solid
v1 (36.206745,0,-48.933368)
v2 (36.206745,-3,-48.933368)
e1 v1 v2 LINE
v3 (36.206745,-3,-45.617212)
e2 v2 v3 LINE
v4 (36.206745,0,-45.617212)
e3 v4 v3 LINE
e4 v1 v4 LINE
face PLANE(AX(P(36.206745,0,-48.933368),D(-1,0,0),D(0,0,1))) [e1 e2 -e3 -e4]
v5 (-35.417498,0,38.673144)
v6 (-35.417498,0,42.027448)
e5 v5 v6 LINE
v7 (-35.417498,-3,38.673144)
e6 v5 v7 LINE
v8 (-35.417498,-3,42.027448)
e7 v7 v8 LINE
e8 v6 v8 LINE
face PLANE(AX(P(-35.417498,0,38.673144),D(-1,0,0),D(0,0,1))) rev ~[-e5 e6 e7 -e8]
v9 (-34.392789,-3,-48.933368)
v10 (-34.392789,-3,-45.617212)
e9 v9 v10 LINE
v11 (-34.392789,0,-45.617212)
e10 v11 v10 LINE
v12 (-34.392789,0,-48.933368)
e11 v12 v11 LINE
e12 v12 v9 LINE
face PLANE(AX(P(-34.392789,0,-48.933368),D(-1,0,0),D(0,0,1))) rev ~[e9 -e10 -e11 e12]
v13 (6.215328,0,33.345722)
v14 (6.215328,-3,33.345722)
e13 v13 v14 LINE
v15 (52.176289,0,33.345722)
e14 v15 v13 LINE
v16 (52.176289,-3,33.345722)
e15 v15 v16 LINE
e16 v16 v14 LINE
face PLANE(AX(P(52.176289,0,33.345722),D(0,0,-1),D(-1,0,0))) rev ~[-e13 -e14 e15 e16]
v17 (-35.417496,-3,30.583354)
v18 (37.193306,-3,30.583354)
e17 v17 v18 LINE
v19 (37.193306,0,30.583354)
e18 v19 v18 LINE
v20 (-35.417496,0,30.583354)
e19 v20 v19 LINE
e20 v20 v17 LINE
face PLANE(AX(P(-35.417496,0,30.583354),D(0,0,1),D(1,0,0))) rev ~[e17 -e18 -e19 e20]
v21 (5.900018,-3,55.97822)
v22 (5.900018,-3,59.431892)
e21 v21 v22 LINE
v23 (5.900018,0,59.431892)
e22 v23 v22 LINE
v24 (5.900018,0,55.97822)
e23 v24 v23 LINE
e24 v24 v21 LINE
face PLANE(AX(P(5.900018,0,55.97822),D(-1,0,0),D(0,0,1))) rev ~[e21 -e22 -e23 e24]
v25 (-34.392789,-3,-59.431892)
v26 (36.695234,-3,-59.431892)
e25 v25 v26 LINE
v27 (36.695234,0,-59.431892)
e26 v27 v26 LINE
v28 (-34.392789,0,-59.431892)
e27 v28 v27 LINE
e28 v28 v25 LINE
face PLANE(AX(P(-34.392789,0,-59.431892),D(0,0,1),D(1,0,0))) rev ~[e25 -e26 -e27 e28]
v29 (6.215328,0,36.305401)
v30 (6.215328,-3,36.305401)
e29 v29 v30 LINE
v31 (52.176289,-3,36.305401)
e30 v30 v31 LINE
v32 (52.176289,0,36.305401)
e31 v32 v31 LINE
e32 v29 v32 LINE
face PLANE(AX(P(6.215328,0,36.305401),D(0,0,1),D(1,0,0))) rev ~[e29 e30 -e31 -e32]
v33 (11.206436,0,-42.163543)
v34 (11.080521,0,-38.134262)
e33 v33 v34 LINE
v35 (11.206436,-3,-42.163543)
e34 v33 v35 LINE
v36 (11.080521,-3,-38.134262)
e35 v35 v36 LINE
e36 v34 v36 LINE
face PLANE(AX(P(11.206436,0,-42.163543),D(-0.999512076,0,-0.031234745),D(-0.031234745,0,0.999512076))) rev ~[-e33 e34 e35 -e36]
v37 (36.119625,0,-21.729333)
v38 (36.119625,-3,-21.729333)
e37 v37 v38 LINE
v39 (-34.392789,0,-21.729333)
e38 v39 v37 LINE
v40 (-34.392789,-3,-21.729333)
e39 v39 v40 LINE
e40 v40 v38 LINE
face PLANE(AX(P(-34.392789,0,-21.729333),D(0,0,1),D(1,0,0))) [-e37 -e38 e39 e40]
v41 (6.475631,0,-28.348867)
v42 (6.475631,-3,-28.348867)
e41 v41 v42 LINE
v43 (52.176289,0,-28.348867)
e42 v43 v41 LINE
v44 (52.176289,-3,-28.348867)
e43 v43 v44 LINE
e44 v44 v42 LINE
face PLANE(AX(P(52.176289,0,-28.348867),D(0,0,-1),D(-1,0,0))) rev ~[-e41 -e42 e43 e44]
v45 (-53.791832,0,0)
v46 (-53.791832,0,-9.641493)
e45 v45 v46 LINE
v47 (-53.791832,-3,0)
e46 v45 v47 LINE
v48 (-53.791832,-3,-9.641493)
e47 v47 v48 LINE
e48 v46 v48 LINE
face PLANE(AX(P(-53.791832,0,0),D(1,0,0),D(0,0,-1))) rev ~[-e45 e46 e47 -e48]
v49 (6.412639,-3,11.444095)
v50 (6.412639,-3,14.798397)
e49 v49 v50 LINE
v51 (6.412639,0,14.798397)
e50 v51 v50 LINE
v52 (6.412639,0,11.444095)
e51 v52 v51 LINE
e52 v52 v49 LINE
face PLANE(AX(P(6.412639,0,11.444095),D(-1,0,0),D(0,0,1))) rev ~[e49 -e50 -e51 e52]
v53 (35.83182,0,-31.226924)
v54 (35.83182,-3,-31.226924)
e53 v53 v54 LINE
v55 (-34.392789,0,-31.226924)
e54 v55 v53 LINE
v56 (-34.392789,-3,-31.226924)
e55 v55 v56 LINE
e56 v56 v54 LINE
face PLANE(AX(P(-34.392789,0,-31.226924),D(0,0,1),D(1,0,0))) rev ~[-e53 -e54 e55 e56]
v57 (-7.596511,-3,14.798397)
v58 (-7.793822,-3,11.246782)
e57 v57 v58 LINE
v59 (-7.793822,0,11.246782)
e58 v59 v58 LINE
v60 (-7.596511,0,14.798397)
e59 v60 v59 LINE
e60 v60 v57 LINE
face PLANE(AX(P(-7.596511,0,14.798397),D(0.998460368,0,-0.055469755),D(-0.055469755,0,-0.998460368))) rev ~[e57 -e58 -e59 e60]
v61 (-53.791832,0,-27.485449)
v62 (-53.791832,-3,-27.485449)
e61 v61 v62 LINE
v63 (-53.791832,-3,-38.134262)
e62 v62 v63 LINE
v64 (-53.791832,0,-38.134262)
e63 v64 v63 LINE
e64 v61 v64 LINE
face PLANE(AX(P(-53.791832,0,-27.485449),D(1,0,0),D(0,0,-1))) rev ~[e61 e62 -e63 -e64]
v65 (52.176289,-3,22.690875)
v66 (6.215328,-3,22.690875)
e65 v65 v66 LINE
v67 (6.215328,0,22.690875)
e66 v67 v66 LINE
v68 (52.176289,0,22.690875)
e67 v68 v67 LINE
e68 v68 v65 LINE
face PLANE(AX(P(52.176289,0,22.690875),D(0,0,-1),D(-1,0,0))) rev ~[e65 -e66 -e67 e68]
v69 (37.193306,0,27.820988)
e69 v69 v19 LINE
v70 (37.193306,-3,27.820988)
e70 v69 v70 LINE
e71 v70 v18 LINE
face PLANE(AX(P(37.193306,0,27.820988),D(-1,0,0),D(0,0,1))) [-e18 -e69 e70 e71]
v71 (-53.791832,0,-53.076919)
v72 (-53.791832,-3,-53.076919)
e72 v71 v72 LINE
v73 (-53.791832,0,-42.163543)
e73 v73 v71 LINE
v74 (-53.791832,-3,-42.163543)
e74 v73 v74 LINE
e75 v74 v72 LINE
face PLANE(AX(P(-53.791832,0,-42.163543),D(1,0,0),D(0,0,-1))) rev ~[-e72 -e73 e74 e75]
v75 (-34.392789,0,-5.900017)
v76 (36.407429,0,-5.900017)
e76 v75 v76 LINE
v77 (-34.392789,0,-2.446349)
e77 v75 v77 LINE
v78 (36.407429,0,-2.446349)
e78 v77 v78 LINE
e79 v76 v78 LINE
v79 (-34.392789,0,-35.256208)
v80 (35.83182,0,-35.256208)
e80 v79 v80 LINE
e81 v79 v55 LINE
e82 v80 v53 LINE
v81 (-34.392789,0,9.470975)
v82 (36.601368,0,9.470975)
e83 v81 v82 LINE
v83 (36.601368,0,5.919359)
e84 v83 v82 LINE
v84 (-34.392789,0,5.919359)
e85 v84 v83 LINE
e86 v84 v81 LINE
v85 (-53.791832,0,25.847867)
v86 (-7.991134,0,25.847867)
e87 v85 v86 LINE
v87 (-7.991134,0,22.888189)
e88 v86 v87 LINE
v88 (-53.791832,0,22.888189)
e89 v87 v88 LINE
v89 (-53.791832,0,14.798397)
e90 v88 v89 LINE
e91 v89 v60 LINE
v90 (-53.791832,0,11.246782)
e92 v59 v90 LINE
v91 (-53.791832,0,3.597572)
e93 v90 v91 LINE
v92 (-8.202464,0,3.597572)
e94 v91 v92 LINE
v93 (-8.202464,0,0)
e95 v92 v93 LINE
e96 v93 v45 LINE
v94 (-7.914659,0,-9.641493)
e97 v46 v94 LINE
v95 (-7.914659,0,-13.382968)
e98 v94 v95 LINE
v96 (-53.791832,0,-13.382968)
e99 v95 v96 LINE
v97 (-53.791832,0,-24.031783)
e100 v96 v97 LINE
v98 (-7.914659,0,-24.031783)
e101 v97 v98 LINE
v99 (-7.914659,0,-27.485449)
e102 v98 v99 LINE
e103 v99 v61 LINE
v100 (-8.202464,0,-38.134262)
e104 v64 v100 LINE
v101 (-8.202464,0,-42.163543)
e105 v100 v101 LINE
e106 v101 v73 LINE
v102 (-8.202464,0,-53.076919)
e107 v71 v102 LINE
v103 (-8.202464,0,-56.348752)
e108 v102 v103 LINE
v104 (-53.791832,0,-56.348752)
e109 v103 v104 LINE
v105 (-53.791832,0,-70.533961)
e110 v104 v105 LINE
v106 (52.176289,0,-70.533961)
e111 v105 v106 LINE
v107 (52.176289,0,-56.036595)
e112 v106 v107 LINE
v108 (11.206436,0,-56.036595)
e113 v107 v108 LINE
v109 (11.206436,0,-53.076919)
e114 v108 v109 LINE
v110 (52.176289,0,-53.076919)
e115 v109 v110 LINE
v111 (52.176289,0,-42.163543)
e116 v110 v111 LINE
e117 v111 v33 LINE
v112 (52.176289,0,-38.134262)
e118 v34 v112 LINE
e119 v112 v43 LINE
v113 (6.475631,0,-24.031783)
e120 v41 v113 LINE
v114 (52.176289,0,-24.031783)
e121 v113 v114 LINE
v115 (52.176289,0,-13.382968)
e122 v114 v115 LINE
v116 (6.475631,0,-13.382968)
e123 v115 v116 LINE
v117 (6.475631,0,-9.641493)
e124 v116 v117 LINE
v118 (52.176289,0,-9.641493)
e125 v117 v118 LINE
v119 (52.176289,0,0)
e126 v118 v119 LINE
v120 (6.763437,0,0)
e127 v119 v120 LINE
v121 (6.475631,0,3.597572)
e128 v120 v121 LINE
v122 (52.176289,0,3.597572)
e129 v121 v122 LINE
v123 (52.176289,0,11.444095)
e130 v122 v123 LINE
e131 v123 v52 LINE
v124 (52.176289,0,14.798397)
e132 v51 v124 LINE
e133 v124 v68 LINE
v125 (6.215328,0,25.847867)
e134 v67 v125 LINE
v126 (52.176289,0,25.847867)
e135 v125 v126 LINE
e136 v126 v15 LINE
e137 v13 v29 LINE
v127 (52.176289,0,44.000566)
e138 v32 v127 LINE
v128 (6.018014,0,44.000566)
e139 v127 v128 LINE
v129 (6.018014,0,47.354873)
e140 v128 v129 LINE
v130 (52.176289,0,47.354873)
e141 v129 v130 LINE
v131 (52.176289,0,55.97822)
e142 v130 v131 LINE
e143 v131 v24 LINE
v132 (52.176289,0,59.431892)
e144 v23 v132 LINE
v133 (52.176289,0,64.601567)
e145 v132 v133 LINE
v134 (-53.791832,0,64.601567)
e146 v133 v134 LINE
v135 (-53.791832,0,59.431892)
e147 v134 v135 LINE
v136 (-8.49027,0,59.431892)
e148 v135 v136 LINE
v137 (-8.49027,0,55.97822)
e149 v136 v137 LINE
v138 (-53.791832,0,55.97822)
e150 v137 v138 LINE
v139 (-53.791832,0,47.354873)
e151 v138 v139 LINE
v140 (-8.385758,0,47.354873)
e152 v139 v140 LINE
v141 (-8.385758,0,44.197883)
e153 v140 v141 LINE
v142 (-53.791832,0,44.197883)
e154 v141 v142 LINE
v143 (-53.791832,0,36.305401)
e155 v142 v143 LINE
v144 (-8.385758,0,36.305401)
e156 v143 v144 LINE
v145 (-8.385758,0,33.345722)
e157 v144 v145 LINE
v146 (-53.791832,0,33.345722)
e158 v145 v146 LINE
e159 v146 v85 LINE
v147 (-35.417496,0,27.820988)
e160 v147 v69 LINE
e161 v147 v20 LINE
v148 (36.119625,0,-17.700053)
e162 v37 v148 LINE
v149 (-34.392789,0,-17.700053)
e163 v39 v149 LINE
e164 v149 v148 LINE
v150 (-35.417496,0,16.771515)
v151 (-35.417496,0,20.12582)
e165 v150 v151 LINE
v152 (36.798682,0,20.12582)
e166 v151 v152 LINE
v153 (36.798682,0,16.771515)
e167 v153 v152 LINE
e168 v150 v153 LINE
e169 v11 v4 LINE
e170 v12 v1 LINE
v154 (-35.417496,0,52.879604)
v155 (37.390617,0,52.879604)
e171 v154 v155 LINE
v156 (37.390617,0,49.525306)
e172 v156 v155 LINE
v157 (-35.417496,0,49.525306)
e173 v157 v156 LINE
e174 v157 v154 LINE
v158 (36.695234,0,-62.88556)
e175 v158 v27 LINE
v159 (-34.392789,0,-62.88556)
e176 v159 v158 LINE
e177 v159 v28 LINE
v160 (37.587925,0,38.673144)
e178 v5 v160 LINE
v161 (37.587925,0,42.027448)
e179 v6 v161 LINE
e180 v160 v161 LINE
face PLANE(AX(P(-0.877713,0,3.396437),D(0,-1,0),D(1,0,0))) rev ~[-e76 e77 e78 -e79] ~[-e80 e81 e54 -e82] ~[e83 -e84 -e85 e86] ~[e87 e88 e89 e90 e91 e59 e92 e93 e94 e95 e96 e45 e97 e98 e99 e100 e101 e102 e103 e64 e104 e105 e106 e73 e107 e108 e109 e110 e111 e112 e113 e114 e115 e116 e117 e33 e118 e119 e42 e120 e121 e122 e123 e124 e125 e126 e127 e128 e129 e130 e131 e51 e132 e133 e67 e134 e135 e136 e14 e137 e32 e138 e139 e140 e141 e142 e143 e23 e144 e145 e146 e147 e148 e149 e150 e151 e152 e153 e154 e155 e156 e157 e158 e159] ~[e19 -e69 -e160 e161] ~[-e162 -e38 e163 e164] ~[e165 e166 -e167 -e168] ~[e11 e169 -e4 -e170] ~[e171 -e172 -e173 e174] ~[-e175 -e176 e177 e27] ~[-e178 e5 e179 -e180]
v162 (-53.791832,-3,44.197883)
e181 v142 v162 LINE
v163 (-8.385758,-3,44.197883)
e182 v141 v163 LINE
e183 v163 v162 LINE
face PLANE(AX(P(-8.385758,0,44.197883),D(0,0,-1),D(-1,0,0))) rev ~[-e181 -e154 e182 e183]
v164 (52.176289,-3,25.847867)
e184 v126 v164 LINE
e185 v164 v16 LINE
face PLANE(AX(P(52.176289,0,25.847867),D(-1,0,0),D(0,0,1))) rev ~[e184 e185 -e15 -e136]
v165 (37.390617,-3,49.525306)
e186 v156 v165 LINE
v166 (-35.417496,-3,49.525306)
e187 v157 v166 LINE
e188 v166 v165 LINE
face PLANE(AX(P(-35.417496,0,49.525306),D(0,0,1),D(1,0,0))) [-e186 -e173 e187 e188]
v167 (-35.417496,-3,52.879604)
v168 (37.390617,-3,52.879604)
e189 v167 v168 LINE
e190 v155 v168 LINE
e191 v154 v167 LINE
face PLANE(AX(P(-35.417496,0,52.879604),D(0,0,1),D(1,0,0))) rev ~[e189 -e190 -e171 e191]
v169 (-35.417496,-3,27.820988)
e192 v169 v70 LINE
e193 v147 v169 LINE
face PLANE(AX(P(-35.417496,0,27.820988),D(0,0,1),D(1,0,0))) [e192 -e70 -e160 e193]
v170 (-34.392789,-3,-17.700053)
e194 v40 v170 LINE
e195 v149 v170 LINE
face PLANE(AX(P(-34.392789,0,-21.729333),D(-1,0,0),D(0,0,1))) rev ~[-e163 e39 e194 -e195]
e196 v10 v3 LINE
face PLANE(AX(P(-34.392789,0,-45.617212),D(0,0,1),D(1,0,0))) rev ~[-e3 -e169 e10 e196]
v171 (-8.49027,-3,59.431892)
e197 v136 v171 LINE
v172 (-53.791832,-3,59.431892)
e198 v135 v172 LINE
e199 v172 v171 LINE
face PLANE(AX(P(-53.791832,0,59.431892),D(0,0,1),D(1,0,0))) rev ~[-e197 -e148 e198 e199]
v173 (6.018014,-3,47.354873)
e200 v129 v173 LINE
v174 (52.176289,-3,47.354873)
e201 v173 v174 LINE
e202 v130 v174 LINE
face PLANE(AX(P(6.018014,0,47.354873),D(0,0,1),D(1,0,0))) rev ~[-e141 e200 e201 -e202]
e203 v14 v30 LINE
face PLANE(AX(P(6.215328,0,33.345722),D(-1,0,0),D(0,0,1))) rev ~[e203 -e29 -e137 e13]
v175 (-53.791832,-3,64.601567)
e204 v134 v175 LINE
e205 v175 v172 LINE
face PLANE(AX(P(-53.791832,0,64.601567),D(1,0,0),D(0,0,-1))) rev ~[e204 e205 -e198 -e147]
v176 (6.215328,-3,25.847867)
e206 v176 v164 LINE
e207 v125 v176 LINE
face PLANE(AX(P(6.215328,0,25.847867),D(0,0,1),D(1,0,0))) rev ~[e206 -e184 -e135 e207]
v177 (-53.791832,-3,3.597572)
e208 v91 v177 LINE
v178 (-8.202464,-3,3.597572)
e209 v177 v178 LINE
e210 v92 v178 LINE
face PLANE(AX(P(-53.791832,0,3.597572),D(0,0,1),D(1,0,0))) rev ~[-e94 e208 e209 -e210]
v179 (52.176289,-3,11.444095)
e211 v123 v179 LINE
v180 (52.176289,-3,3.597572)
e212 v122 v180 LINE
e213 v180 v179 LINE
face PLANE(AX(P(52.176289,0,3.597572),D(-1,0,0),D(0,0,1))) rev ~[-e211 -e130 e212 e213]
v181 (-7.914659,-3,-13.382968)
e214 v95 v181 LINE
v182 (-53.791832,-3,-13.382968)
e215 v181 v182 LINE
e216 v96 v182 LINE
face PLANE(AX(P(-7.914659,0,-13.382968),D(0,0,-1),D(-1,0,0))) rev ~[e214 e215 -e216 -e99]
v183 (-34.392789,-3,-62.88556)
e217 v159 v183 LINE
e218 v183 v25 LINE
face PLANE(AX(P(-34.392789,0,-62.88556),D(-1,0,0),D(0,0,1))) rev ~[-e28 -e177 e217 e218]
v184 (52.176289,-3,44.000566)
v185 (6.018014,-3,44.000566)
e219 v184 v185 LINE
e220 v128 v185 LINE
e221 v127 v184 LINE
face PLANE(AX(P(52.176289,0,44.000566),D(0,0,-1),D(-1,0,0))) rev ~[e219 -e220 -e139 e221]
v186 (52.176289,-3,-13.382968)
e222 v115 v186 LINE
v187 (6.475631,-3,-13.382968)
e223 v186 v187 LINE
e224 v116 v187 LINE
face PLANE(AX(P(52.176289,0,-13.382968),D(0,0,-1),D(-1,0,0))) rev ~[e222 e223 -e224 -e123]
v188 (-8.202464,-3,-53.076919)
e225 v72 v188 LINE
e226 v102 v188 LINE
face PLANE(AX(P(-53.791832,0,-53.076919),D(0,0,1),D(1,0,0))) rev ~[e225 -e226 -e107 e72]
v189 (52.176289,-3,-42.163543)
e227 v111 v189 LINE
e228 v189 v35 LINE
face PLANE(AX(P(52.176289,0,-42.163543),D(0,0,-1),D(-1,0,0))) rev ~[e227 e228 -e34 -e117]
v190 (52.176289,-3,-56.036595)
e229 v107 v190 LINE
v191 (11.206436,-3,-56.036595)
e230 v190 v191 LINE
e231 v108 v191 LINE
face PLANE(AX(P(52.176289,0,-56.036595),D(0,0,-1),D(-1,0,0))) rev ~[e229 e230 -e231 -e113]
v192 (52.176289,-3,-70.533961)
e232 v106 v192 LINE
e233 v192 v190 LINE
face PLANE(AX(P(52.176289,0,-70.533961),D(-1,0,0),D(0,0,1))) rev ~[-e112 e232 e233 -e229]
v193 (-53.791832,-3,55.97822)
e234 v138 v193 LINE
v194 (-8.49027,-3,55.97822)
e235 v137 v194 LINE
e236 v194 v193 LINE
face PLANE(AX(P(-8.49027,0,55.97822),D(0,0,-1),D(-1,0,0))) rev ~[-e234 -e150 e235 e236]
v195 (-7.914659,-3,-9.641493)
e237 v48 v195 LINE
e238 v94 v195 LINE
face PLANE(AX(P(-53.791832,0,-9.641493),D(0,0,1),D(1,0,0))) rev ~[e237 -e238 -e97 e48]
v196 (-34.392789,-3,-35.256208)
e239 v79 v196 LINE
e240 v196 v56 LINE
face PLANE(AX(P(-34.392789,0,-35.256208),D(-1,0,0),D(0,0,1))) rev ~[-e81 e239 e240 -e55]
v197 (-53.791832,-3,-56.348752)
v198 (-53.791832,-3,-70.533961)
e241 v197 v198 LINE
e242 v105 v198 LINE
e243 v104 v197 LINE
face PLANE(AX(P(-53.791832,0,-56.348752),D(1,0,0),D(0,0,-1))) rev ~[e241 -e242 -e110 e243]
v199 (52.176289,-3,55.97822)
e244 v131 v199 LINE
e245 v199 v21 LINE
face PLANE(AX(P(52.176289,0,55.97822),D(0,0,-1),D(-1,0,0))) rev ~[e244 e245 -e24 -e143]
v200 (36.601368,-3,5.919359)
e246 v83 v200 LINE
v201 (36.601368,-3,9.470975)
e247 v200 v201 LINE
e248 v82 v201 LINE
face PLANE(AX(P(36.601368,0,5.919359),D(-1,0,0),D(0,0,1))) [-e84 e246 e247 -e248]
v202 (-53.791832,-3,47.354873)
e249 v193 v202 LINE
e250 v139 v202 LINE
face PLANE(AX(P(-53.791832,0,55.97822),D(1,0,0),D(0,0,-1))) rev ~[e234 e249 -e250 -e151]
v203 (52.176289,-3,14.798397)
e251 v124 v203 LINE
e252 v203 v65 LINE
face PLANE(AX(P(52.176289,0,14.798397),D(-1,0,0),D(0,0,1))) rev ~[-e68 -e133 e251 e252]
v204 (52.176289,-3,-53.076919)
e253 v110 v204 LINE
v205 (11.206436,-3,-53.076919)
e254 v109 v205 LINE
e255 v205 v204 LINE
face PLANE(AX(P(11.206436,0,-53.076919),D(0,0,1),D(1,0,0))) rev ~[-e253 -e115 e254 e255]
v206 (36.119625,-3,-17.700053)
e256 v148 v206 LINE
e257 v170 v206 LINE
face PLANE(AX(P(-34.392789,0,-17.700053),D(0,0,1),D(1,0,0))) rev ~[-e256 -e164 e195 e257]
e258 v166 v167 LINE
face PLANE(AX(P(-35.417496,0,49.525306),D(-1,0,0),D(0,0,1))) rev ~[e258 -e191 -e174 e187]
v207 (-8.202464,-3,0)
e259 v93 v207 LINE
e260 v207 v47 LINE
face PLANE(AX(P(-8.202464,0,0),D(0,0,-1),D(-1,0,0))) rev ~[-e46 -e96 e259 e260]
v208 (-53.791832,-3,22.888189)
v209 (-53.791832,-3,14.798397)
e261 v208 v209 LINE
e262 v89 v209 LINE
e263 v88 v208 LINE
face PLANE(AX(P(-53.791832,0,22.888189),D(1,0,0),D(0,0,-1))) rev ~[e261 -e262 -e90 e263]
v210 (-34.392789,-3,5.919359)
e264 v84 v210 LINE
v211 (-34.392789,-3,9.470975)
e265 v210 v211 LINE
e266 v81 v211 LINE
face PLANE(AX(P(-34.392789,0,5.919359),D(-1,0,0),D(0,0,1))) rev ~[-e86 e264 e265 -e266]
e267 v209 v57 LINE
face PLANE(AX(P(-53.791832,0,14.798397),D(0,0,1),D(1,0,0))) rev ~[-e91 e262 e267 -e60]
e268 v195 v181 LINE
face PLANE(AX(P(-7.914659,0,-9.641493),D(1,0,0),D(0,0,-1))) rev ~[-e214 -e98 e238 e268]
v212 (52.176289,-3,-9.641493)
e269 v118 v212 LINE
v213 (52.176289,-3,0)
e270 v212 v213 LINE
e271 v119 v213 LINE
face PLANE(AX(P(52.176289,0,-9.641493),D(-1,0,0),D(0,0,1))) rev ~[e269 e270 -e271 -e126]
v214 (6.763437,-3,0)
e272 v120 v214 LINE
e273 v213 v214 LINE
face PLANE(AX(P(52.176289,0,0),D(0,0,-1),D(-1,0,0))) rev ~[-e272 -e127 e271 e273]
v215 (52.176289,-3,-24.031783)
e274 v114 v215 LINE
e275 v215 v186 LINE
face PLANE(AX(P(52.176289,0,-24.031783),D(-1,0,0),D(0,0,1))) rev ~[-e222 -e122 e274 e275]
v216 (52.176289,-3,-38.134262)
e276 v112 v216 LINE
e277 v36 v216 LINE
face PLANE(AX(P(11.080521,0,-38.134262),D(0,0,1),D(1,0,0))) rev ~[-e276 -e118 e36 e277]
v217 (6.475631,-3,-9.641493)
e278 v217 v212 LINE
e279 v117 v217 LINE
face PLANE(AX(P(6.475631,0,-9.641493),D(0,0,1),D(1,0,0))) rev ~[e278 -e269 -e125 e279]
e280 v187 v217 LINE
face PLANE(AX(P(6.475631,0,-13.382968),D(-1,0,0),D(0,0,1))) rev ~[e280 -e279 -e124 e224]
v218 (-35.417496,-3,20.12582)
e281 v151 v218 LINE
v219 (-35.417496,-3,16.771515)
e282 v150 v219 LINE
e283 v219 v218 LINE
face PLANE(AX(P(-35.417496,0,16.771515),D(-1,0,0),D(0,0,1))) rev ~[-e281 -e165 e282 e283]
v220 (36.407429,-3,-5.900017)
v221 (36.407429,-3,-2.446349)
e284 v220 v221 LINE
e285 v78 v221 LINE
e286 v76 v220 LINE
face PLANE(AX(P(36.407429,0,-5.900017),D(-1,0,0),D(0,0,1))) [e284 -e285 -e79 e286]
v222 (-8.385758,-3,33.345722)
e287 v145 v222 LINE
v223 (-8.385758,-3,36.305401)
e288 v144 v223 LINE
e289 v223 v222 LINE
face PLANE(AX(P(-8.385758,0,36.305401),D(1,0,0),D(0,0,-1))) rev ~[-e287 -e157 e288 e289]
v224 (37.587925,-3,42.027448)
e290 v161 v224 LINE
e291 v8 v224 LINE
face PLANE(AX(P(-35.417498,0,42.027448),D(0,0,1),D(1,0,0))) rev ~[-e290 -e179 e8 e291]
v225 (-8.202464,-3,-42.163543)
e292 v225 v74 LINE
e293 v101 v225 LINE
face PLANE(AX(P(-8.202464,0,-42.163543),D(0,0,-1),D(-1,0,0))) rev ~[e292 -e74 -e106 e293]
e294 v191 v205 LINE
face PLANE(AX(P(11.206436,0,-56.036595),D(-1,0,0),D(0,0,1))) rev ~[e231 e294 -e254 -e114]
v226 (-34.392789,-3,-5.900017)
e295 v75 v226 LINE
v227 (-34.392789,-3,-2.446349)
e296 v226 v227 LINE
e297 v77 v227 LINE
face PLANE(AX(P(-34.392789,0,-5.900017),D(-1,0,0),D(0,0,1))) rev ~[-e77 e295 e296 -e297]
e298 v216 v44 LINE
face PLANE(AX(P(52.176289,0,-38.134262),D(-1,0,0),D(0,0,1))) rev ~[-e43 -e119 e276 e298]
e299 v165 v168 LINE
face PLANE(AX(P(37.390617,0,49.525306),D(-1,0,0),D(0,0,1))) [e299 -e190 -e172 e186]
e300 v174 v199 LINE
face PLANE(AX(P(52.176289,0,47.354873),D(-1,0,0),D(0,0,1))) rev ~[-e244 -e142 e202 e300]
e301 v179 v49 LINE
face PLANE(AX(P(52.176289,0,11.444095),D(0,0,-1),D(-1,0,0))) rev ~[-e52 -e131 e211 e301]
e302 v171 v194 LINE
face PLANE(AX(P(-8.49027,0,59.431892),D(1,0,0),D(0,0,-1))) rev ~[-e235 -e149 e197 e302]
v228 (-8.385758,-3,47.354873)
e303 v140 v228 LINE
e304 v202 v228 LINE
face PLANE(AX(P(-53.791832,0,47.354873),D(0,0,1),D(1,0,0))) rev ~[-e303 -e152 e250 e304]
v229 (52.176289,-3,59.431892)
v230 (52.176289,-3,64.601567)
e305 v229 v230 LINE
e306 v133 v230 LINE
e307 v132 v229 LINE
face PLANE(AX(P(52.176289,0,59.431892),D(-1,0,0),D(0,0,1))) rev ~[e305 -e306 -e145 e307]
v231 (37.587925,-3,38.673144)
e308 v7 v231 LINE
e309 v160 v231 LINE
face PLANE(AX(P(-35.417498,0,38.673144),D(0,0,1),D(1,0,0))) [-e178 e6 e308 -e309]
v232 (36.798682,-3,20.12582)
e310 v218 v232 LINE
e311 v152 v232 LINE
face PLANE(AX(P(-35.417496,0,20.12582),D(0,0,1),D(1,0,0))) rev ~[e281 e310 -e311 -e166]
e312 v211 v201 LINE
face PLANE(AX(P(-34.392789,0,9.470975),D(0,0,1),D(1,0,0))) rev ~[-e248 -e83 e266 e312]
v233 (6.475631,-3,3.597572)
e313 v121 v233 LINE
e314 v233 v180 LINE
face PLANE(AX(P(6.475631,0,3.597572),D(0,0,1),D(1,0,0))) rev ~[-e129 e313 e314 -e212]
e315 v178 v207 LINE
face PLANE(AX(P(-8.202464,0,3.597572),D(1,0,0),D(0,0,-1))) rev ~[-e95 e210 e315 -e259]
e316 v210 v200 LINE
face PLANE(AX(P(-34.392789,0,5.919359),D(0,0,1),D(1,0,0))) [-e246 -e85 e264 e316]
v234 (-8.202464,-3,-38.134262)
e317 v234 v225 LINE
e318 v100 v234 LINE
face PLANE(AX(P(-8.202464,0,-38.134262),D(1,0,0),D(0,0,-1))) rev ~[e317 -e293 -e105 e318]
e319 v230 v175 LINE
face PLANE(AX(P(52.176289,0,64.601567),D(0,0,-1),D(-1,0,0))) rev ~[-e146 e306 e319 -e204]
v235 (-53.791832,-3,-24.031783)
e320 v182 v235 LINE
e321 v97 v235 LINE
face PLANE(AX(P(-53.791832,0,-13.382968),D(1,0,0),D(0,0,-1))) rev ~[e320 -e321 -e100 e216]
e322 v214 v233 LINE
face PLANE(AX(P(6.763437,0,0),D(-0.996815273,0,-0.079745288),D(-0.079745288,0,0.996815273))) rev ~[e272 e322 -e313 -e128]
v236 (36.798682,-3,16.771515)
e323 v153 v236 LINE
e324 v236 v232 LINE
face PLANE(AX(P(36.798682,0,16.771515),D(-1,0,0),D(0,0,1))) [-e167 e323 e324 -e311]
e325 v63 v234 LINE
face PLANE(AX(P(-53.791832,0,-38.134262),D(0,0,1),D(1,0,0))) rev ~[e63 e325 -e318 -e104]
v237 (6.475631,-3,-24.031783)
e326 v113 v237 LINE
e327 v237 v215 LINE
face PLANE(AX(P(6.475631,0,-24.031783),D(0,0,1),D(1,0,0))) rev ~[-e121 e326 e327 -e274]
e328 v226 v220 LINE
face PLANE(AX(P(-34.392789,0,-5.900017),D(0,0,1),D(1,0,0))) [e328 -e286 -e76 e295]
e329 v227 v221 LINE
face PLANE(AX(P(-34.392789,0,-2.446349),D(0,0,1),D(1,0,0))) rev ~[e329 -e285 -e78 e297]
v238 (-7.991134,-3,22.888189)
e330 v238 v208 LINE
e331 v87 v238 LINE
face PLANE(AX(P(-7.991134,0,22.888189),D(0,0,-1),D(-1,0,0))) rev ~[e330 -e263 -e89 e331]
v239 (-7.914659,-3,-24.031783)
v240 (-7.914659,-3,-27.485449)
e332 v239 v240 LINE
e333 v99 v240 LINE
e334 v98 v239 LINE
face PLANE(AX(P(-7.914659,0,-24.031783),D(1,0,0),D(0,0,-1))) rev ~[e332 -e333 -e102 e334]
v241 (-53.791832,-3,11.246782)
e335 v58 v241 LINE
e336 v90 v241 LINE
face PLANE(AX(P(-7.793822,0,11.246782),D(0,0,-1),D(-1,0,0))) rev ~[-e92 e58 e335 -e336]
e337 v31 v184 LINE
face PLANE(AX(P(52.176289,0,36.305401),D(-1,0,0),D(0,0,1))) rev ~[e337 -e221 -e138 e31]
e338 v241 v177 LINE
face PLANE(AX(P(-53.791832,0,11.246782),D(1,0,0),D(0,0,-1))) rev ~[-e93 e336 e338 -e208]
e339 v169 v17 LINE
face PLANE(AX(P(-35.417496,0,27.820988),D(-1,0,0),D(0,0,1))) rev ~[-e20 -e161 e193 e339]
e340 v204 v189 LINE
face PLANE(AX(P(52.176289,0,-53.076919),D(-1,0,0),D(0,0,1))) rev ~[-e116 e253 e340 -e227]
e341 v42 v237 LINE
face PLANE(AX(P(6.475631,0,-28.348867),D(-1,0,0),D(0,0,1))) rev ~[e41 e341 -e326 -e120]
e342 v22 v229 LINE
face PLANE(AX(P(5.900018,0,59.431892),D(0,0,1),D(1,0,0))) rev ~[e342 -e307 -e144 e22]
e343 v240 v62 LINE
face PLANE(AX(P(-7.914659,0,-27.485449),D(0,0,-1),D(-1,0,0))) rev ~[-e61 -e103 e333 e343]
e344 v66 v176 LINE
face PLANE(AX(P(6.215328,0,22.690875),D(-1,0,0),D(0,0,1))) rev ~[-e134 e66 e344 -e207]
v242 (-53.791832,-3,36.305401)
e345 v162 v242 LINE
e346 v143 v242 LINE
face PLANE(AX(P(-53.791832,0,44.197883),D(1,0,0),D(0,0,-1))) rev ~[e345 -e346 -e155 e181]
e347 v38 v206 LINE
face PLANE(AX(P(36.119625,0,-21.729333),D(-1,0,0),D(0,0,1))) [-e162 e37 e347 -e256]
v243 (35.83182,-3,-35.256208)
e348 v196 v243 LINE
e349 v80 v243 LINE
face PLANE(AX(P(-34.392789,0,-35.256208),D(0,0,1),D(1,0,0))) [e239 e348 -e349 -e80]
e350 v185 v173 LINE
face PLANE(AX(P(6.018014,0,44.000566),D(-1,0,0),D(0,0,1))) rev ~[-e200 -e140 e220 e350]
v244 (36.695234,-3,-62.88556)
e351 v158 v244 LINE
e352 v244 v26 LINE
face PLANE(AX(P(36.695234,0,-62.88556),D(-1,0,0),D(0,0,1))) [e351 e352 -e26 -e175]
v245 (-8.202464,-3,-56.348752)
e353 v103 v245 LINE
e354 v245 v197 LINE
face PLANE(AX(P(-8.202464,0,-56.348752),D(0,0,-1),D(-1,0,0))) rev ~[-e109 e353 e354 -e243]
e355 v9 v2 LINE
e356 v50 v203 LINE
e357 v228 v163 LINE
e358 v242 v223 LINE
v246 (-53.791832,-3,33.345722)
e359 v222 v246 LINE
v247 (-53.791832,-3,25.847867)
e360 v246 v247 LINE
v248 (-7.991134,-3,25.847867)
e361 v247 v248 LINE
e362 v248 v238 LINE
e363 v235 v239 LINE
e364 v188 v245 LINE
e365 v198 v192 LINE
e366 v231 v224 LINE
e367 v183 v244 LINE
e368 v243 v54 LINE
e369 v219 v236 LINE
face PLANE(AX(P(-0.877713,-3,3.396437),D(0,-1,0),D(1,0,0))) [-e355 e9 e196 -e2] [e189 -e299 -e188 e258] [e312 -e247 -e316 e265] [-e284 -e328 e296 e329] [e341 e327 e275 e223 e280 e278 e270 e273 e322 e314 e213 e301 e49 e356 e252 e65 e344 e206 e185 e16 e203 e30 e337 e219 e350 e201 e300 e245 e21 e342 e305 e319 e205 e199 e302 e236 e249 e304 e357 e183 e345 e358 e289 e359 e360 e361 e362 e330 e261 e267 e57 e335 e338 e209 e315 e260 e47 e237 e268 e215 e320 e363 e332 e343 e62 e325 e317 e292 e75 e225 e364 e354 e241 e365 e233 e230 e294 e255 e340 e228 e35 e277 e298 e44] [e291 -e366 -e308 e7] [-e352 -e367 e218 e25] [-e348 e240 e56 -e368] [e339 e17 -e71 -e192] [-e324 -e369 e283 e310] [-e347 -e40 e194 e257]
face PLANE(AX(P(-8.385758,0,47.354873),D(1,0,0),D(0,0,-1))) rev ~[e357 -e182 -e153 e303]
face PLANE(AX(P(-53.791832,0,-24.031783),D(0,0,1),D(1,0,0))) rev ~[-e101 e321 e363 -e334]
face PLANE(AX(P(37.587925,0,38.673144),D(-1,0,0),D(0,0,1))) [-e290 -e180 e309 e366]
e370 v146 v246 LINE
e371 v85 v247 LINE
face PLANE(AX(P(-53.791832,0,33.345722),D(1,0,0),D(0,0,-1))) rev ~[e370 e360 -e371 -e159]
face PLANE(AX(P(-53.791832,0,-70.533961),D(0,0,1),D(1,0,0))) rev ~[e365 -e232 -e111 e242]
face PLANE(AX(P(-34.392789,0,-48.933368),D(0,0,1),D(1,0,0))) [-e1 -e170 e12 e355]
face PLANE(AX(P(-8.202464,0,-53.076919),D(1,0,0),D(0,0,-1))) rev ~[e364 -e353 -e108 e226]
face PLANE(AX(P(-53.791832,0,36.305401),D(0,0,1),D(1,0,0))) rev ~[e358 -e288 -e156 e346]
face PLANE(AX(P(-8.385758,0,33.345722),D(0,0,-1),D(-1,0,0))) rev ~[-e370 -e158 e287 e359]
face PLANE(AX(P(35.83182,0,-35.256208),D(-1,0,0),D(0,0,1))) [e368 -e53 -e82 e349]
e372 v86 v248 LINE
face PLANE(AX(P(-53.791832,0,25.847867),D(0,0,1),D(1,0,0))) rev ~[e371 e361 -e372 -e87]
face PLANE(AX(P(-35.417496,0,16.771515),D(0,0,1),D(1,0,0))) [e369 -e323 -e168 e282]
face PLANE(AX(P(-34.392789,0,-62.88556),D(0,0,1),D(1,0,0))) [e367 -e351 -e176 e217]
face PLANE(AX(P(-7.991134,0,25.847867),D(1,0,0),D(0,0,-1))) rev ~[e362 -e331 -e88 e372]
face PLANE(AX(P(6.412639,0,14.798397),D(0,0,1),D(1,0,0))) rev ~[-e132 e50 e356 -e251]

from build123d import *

# Parameters (mm, degrees)
F0_W     = 71.088023
F0_H     = 3.453668
F0_W_2   = 70.599534
F0_H_2   = 3.316156
F0_W_3   = 70.224609
F0_H_3   = 4.029283
F0_W_4   = 70.512414
F0_H_4   = 4.029279
F0_W_5   = 70.800219
F0_H_5   = 3.453669
F0_W_6   = 70.994157
F0_H_6   = 3.551615
F0_W_7   = 72.216179
F0_H_7   = 3.354305
F0_W_8   = 72.610803
F0_H_8   = 2.762366
F0_W_9   = 73.005423
F0_H_9   = 3.354303
F0_W_10  = 72.808113
F0_H_10  = 3.354299
F1_DEPTH = 3


with BuildPart() as f1:
    # F0 (on Front) → F1 (new body)
    with BuildSketch(Plane.XZ):
        Polygon((52.176289, 64.601567), (-53.791832, 64.601567), (-53.791832, 59.431892), (-8.49027, 59.431892), (-8.49027, 55.97822), (-53.791832, 55.97822), (-53.791832, 47.354873), (-8.385758, 47.354873), (-8.385758, 44.197883), (-53.791832, 44.197883), (-53.791832, 36.305401), (-8.385758, 36.305401), (-8.385758, 33.345722), (-53.791832, 33.345722), (-53.791832, 25.847867), (-7.991134, 25.847867), (-7.991134, 22.888189), (-53.791832, 22.888189), (-53.791832, 14.798397), (-7.596511, 14.798397), (-7.793822, 11.246782), (-53.791832, 11.246782), (-53.791832, 3.597572), (-8.202464, 3.597572), (-8.202464, 0), (-53.791832, 0), (-53.791832, -9.641493), (-7.914659, -9.641493), (-7.914659, -13.382968), (-53.791832, -13.382968), (-53.791832, -24.031783), (-7.914659, -24.031783), (-7.914659, -27.485449), (-53.791832, -27.485449), (-53.791832, -38.134262), (-8.202464, -38.134262), (-8.202464, -42.163543), (-53.791832, -42.163543), (-53.791832, -53.076919), (-8.202464, -53.076919), (-8.202464, -56.348752), (-53.791832, -56.348752), (-53.791832, -70.533961), (52.176289, -70.533961), (52.176289, -56.036595), (11.206436, -56.036595), (11.206436, -53.076919), (52.176289, -53.076919), (52.176289, -42.163543), (11.206436, -42.163543), (11.080521, -38.134262), (52.176289, -38.134262), (52.176289, -28.348867), (6.475631, -28.348867), (6.475631, -24.031783), (52.176289, -24.031783), (52.176289, -13.382968), (6.475631, -13.382968), (6.475631, -9.641493), (52.176289, -9.641493), (52.176289, 0), (6.763437, 0), (6.475631, 3.597572), (52.176289, 3.597572), (52.176289, 11.444095), (6.412639, 11.444095), (6.412639, 14.798397), (52.176289, 14.798397), (52.176289, 22.690875), (6.215328, 22.690875), (6.215328, 25.847867), (52.176289, 25.847867), (52.176289, 33.345722), (6.215328, 33.345722), (6.215328, 36.305401), (52.176289, 36.305401), (52.176289, 44.000566), (6.018014, 44.000566), (6.018014, 47.354873), (52.176289, 47.354873), (52.176289, 55.97822), (5.900018, 55.97822), (5.900018, 59.431892), (52.176289, 59.431892), align=None)
        with Locations((1.151222, -61.158726)):
            Rectangle(F0_W, F0_H, mode=Mode.SUBTRACT)
        with Locations((0.906978, -47.27529)):
            Rectangle(F0_W_2, F0_H_2, mode=Mode.SUBTRACT)
        with Locations((0.719515, -33.241566)):
            Rectangle(F0_W_3, F0_H_3, mode=Mode.SUBTRACT)
        with Locations((0.863418, -19.714693)):
            Rectangle(F0_W_4, F0_H_4, mode=Mode.SUBTRACT)
        with Locations((1.00732, -4.173183)):
            Rectangle(F0_W_5, F0_H_5, mode=Mode.SUBTRACT)
        with Locations((1.10429, 7.695167)):
            Rectangle(F0_W_6, F0_H_6, mode=Mode.SUBTRACT)
        with Locations((0.690593, 18.448668)):
            Rectangle(F0_W_7, F0_H_7, mode=Mode.SUBTRACT)
        with Locations((0.887905, 29.202171)):
            Rectangle(F0_W_8, F0_H_8, mode=Mode.SUBTRACT)
        with Locations((1.085214, 40.350296)):
            Rectangle(F0_W_9, F0_H_9, mode=Mode.SUBTRACT)
        with Locations((0.98656, 51.202455)):
            Rectangle(F0_W_10, F0_H_10, mode=Mode.SUBTRACT)
    extrude(amount=F1_DEPTH)


solid = f1.part
